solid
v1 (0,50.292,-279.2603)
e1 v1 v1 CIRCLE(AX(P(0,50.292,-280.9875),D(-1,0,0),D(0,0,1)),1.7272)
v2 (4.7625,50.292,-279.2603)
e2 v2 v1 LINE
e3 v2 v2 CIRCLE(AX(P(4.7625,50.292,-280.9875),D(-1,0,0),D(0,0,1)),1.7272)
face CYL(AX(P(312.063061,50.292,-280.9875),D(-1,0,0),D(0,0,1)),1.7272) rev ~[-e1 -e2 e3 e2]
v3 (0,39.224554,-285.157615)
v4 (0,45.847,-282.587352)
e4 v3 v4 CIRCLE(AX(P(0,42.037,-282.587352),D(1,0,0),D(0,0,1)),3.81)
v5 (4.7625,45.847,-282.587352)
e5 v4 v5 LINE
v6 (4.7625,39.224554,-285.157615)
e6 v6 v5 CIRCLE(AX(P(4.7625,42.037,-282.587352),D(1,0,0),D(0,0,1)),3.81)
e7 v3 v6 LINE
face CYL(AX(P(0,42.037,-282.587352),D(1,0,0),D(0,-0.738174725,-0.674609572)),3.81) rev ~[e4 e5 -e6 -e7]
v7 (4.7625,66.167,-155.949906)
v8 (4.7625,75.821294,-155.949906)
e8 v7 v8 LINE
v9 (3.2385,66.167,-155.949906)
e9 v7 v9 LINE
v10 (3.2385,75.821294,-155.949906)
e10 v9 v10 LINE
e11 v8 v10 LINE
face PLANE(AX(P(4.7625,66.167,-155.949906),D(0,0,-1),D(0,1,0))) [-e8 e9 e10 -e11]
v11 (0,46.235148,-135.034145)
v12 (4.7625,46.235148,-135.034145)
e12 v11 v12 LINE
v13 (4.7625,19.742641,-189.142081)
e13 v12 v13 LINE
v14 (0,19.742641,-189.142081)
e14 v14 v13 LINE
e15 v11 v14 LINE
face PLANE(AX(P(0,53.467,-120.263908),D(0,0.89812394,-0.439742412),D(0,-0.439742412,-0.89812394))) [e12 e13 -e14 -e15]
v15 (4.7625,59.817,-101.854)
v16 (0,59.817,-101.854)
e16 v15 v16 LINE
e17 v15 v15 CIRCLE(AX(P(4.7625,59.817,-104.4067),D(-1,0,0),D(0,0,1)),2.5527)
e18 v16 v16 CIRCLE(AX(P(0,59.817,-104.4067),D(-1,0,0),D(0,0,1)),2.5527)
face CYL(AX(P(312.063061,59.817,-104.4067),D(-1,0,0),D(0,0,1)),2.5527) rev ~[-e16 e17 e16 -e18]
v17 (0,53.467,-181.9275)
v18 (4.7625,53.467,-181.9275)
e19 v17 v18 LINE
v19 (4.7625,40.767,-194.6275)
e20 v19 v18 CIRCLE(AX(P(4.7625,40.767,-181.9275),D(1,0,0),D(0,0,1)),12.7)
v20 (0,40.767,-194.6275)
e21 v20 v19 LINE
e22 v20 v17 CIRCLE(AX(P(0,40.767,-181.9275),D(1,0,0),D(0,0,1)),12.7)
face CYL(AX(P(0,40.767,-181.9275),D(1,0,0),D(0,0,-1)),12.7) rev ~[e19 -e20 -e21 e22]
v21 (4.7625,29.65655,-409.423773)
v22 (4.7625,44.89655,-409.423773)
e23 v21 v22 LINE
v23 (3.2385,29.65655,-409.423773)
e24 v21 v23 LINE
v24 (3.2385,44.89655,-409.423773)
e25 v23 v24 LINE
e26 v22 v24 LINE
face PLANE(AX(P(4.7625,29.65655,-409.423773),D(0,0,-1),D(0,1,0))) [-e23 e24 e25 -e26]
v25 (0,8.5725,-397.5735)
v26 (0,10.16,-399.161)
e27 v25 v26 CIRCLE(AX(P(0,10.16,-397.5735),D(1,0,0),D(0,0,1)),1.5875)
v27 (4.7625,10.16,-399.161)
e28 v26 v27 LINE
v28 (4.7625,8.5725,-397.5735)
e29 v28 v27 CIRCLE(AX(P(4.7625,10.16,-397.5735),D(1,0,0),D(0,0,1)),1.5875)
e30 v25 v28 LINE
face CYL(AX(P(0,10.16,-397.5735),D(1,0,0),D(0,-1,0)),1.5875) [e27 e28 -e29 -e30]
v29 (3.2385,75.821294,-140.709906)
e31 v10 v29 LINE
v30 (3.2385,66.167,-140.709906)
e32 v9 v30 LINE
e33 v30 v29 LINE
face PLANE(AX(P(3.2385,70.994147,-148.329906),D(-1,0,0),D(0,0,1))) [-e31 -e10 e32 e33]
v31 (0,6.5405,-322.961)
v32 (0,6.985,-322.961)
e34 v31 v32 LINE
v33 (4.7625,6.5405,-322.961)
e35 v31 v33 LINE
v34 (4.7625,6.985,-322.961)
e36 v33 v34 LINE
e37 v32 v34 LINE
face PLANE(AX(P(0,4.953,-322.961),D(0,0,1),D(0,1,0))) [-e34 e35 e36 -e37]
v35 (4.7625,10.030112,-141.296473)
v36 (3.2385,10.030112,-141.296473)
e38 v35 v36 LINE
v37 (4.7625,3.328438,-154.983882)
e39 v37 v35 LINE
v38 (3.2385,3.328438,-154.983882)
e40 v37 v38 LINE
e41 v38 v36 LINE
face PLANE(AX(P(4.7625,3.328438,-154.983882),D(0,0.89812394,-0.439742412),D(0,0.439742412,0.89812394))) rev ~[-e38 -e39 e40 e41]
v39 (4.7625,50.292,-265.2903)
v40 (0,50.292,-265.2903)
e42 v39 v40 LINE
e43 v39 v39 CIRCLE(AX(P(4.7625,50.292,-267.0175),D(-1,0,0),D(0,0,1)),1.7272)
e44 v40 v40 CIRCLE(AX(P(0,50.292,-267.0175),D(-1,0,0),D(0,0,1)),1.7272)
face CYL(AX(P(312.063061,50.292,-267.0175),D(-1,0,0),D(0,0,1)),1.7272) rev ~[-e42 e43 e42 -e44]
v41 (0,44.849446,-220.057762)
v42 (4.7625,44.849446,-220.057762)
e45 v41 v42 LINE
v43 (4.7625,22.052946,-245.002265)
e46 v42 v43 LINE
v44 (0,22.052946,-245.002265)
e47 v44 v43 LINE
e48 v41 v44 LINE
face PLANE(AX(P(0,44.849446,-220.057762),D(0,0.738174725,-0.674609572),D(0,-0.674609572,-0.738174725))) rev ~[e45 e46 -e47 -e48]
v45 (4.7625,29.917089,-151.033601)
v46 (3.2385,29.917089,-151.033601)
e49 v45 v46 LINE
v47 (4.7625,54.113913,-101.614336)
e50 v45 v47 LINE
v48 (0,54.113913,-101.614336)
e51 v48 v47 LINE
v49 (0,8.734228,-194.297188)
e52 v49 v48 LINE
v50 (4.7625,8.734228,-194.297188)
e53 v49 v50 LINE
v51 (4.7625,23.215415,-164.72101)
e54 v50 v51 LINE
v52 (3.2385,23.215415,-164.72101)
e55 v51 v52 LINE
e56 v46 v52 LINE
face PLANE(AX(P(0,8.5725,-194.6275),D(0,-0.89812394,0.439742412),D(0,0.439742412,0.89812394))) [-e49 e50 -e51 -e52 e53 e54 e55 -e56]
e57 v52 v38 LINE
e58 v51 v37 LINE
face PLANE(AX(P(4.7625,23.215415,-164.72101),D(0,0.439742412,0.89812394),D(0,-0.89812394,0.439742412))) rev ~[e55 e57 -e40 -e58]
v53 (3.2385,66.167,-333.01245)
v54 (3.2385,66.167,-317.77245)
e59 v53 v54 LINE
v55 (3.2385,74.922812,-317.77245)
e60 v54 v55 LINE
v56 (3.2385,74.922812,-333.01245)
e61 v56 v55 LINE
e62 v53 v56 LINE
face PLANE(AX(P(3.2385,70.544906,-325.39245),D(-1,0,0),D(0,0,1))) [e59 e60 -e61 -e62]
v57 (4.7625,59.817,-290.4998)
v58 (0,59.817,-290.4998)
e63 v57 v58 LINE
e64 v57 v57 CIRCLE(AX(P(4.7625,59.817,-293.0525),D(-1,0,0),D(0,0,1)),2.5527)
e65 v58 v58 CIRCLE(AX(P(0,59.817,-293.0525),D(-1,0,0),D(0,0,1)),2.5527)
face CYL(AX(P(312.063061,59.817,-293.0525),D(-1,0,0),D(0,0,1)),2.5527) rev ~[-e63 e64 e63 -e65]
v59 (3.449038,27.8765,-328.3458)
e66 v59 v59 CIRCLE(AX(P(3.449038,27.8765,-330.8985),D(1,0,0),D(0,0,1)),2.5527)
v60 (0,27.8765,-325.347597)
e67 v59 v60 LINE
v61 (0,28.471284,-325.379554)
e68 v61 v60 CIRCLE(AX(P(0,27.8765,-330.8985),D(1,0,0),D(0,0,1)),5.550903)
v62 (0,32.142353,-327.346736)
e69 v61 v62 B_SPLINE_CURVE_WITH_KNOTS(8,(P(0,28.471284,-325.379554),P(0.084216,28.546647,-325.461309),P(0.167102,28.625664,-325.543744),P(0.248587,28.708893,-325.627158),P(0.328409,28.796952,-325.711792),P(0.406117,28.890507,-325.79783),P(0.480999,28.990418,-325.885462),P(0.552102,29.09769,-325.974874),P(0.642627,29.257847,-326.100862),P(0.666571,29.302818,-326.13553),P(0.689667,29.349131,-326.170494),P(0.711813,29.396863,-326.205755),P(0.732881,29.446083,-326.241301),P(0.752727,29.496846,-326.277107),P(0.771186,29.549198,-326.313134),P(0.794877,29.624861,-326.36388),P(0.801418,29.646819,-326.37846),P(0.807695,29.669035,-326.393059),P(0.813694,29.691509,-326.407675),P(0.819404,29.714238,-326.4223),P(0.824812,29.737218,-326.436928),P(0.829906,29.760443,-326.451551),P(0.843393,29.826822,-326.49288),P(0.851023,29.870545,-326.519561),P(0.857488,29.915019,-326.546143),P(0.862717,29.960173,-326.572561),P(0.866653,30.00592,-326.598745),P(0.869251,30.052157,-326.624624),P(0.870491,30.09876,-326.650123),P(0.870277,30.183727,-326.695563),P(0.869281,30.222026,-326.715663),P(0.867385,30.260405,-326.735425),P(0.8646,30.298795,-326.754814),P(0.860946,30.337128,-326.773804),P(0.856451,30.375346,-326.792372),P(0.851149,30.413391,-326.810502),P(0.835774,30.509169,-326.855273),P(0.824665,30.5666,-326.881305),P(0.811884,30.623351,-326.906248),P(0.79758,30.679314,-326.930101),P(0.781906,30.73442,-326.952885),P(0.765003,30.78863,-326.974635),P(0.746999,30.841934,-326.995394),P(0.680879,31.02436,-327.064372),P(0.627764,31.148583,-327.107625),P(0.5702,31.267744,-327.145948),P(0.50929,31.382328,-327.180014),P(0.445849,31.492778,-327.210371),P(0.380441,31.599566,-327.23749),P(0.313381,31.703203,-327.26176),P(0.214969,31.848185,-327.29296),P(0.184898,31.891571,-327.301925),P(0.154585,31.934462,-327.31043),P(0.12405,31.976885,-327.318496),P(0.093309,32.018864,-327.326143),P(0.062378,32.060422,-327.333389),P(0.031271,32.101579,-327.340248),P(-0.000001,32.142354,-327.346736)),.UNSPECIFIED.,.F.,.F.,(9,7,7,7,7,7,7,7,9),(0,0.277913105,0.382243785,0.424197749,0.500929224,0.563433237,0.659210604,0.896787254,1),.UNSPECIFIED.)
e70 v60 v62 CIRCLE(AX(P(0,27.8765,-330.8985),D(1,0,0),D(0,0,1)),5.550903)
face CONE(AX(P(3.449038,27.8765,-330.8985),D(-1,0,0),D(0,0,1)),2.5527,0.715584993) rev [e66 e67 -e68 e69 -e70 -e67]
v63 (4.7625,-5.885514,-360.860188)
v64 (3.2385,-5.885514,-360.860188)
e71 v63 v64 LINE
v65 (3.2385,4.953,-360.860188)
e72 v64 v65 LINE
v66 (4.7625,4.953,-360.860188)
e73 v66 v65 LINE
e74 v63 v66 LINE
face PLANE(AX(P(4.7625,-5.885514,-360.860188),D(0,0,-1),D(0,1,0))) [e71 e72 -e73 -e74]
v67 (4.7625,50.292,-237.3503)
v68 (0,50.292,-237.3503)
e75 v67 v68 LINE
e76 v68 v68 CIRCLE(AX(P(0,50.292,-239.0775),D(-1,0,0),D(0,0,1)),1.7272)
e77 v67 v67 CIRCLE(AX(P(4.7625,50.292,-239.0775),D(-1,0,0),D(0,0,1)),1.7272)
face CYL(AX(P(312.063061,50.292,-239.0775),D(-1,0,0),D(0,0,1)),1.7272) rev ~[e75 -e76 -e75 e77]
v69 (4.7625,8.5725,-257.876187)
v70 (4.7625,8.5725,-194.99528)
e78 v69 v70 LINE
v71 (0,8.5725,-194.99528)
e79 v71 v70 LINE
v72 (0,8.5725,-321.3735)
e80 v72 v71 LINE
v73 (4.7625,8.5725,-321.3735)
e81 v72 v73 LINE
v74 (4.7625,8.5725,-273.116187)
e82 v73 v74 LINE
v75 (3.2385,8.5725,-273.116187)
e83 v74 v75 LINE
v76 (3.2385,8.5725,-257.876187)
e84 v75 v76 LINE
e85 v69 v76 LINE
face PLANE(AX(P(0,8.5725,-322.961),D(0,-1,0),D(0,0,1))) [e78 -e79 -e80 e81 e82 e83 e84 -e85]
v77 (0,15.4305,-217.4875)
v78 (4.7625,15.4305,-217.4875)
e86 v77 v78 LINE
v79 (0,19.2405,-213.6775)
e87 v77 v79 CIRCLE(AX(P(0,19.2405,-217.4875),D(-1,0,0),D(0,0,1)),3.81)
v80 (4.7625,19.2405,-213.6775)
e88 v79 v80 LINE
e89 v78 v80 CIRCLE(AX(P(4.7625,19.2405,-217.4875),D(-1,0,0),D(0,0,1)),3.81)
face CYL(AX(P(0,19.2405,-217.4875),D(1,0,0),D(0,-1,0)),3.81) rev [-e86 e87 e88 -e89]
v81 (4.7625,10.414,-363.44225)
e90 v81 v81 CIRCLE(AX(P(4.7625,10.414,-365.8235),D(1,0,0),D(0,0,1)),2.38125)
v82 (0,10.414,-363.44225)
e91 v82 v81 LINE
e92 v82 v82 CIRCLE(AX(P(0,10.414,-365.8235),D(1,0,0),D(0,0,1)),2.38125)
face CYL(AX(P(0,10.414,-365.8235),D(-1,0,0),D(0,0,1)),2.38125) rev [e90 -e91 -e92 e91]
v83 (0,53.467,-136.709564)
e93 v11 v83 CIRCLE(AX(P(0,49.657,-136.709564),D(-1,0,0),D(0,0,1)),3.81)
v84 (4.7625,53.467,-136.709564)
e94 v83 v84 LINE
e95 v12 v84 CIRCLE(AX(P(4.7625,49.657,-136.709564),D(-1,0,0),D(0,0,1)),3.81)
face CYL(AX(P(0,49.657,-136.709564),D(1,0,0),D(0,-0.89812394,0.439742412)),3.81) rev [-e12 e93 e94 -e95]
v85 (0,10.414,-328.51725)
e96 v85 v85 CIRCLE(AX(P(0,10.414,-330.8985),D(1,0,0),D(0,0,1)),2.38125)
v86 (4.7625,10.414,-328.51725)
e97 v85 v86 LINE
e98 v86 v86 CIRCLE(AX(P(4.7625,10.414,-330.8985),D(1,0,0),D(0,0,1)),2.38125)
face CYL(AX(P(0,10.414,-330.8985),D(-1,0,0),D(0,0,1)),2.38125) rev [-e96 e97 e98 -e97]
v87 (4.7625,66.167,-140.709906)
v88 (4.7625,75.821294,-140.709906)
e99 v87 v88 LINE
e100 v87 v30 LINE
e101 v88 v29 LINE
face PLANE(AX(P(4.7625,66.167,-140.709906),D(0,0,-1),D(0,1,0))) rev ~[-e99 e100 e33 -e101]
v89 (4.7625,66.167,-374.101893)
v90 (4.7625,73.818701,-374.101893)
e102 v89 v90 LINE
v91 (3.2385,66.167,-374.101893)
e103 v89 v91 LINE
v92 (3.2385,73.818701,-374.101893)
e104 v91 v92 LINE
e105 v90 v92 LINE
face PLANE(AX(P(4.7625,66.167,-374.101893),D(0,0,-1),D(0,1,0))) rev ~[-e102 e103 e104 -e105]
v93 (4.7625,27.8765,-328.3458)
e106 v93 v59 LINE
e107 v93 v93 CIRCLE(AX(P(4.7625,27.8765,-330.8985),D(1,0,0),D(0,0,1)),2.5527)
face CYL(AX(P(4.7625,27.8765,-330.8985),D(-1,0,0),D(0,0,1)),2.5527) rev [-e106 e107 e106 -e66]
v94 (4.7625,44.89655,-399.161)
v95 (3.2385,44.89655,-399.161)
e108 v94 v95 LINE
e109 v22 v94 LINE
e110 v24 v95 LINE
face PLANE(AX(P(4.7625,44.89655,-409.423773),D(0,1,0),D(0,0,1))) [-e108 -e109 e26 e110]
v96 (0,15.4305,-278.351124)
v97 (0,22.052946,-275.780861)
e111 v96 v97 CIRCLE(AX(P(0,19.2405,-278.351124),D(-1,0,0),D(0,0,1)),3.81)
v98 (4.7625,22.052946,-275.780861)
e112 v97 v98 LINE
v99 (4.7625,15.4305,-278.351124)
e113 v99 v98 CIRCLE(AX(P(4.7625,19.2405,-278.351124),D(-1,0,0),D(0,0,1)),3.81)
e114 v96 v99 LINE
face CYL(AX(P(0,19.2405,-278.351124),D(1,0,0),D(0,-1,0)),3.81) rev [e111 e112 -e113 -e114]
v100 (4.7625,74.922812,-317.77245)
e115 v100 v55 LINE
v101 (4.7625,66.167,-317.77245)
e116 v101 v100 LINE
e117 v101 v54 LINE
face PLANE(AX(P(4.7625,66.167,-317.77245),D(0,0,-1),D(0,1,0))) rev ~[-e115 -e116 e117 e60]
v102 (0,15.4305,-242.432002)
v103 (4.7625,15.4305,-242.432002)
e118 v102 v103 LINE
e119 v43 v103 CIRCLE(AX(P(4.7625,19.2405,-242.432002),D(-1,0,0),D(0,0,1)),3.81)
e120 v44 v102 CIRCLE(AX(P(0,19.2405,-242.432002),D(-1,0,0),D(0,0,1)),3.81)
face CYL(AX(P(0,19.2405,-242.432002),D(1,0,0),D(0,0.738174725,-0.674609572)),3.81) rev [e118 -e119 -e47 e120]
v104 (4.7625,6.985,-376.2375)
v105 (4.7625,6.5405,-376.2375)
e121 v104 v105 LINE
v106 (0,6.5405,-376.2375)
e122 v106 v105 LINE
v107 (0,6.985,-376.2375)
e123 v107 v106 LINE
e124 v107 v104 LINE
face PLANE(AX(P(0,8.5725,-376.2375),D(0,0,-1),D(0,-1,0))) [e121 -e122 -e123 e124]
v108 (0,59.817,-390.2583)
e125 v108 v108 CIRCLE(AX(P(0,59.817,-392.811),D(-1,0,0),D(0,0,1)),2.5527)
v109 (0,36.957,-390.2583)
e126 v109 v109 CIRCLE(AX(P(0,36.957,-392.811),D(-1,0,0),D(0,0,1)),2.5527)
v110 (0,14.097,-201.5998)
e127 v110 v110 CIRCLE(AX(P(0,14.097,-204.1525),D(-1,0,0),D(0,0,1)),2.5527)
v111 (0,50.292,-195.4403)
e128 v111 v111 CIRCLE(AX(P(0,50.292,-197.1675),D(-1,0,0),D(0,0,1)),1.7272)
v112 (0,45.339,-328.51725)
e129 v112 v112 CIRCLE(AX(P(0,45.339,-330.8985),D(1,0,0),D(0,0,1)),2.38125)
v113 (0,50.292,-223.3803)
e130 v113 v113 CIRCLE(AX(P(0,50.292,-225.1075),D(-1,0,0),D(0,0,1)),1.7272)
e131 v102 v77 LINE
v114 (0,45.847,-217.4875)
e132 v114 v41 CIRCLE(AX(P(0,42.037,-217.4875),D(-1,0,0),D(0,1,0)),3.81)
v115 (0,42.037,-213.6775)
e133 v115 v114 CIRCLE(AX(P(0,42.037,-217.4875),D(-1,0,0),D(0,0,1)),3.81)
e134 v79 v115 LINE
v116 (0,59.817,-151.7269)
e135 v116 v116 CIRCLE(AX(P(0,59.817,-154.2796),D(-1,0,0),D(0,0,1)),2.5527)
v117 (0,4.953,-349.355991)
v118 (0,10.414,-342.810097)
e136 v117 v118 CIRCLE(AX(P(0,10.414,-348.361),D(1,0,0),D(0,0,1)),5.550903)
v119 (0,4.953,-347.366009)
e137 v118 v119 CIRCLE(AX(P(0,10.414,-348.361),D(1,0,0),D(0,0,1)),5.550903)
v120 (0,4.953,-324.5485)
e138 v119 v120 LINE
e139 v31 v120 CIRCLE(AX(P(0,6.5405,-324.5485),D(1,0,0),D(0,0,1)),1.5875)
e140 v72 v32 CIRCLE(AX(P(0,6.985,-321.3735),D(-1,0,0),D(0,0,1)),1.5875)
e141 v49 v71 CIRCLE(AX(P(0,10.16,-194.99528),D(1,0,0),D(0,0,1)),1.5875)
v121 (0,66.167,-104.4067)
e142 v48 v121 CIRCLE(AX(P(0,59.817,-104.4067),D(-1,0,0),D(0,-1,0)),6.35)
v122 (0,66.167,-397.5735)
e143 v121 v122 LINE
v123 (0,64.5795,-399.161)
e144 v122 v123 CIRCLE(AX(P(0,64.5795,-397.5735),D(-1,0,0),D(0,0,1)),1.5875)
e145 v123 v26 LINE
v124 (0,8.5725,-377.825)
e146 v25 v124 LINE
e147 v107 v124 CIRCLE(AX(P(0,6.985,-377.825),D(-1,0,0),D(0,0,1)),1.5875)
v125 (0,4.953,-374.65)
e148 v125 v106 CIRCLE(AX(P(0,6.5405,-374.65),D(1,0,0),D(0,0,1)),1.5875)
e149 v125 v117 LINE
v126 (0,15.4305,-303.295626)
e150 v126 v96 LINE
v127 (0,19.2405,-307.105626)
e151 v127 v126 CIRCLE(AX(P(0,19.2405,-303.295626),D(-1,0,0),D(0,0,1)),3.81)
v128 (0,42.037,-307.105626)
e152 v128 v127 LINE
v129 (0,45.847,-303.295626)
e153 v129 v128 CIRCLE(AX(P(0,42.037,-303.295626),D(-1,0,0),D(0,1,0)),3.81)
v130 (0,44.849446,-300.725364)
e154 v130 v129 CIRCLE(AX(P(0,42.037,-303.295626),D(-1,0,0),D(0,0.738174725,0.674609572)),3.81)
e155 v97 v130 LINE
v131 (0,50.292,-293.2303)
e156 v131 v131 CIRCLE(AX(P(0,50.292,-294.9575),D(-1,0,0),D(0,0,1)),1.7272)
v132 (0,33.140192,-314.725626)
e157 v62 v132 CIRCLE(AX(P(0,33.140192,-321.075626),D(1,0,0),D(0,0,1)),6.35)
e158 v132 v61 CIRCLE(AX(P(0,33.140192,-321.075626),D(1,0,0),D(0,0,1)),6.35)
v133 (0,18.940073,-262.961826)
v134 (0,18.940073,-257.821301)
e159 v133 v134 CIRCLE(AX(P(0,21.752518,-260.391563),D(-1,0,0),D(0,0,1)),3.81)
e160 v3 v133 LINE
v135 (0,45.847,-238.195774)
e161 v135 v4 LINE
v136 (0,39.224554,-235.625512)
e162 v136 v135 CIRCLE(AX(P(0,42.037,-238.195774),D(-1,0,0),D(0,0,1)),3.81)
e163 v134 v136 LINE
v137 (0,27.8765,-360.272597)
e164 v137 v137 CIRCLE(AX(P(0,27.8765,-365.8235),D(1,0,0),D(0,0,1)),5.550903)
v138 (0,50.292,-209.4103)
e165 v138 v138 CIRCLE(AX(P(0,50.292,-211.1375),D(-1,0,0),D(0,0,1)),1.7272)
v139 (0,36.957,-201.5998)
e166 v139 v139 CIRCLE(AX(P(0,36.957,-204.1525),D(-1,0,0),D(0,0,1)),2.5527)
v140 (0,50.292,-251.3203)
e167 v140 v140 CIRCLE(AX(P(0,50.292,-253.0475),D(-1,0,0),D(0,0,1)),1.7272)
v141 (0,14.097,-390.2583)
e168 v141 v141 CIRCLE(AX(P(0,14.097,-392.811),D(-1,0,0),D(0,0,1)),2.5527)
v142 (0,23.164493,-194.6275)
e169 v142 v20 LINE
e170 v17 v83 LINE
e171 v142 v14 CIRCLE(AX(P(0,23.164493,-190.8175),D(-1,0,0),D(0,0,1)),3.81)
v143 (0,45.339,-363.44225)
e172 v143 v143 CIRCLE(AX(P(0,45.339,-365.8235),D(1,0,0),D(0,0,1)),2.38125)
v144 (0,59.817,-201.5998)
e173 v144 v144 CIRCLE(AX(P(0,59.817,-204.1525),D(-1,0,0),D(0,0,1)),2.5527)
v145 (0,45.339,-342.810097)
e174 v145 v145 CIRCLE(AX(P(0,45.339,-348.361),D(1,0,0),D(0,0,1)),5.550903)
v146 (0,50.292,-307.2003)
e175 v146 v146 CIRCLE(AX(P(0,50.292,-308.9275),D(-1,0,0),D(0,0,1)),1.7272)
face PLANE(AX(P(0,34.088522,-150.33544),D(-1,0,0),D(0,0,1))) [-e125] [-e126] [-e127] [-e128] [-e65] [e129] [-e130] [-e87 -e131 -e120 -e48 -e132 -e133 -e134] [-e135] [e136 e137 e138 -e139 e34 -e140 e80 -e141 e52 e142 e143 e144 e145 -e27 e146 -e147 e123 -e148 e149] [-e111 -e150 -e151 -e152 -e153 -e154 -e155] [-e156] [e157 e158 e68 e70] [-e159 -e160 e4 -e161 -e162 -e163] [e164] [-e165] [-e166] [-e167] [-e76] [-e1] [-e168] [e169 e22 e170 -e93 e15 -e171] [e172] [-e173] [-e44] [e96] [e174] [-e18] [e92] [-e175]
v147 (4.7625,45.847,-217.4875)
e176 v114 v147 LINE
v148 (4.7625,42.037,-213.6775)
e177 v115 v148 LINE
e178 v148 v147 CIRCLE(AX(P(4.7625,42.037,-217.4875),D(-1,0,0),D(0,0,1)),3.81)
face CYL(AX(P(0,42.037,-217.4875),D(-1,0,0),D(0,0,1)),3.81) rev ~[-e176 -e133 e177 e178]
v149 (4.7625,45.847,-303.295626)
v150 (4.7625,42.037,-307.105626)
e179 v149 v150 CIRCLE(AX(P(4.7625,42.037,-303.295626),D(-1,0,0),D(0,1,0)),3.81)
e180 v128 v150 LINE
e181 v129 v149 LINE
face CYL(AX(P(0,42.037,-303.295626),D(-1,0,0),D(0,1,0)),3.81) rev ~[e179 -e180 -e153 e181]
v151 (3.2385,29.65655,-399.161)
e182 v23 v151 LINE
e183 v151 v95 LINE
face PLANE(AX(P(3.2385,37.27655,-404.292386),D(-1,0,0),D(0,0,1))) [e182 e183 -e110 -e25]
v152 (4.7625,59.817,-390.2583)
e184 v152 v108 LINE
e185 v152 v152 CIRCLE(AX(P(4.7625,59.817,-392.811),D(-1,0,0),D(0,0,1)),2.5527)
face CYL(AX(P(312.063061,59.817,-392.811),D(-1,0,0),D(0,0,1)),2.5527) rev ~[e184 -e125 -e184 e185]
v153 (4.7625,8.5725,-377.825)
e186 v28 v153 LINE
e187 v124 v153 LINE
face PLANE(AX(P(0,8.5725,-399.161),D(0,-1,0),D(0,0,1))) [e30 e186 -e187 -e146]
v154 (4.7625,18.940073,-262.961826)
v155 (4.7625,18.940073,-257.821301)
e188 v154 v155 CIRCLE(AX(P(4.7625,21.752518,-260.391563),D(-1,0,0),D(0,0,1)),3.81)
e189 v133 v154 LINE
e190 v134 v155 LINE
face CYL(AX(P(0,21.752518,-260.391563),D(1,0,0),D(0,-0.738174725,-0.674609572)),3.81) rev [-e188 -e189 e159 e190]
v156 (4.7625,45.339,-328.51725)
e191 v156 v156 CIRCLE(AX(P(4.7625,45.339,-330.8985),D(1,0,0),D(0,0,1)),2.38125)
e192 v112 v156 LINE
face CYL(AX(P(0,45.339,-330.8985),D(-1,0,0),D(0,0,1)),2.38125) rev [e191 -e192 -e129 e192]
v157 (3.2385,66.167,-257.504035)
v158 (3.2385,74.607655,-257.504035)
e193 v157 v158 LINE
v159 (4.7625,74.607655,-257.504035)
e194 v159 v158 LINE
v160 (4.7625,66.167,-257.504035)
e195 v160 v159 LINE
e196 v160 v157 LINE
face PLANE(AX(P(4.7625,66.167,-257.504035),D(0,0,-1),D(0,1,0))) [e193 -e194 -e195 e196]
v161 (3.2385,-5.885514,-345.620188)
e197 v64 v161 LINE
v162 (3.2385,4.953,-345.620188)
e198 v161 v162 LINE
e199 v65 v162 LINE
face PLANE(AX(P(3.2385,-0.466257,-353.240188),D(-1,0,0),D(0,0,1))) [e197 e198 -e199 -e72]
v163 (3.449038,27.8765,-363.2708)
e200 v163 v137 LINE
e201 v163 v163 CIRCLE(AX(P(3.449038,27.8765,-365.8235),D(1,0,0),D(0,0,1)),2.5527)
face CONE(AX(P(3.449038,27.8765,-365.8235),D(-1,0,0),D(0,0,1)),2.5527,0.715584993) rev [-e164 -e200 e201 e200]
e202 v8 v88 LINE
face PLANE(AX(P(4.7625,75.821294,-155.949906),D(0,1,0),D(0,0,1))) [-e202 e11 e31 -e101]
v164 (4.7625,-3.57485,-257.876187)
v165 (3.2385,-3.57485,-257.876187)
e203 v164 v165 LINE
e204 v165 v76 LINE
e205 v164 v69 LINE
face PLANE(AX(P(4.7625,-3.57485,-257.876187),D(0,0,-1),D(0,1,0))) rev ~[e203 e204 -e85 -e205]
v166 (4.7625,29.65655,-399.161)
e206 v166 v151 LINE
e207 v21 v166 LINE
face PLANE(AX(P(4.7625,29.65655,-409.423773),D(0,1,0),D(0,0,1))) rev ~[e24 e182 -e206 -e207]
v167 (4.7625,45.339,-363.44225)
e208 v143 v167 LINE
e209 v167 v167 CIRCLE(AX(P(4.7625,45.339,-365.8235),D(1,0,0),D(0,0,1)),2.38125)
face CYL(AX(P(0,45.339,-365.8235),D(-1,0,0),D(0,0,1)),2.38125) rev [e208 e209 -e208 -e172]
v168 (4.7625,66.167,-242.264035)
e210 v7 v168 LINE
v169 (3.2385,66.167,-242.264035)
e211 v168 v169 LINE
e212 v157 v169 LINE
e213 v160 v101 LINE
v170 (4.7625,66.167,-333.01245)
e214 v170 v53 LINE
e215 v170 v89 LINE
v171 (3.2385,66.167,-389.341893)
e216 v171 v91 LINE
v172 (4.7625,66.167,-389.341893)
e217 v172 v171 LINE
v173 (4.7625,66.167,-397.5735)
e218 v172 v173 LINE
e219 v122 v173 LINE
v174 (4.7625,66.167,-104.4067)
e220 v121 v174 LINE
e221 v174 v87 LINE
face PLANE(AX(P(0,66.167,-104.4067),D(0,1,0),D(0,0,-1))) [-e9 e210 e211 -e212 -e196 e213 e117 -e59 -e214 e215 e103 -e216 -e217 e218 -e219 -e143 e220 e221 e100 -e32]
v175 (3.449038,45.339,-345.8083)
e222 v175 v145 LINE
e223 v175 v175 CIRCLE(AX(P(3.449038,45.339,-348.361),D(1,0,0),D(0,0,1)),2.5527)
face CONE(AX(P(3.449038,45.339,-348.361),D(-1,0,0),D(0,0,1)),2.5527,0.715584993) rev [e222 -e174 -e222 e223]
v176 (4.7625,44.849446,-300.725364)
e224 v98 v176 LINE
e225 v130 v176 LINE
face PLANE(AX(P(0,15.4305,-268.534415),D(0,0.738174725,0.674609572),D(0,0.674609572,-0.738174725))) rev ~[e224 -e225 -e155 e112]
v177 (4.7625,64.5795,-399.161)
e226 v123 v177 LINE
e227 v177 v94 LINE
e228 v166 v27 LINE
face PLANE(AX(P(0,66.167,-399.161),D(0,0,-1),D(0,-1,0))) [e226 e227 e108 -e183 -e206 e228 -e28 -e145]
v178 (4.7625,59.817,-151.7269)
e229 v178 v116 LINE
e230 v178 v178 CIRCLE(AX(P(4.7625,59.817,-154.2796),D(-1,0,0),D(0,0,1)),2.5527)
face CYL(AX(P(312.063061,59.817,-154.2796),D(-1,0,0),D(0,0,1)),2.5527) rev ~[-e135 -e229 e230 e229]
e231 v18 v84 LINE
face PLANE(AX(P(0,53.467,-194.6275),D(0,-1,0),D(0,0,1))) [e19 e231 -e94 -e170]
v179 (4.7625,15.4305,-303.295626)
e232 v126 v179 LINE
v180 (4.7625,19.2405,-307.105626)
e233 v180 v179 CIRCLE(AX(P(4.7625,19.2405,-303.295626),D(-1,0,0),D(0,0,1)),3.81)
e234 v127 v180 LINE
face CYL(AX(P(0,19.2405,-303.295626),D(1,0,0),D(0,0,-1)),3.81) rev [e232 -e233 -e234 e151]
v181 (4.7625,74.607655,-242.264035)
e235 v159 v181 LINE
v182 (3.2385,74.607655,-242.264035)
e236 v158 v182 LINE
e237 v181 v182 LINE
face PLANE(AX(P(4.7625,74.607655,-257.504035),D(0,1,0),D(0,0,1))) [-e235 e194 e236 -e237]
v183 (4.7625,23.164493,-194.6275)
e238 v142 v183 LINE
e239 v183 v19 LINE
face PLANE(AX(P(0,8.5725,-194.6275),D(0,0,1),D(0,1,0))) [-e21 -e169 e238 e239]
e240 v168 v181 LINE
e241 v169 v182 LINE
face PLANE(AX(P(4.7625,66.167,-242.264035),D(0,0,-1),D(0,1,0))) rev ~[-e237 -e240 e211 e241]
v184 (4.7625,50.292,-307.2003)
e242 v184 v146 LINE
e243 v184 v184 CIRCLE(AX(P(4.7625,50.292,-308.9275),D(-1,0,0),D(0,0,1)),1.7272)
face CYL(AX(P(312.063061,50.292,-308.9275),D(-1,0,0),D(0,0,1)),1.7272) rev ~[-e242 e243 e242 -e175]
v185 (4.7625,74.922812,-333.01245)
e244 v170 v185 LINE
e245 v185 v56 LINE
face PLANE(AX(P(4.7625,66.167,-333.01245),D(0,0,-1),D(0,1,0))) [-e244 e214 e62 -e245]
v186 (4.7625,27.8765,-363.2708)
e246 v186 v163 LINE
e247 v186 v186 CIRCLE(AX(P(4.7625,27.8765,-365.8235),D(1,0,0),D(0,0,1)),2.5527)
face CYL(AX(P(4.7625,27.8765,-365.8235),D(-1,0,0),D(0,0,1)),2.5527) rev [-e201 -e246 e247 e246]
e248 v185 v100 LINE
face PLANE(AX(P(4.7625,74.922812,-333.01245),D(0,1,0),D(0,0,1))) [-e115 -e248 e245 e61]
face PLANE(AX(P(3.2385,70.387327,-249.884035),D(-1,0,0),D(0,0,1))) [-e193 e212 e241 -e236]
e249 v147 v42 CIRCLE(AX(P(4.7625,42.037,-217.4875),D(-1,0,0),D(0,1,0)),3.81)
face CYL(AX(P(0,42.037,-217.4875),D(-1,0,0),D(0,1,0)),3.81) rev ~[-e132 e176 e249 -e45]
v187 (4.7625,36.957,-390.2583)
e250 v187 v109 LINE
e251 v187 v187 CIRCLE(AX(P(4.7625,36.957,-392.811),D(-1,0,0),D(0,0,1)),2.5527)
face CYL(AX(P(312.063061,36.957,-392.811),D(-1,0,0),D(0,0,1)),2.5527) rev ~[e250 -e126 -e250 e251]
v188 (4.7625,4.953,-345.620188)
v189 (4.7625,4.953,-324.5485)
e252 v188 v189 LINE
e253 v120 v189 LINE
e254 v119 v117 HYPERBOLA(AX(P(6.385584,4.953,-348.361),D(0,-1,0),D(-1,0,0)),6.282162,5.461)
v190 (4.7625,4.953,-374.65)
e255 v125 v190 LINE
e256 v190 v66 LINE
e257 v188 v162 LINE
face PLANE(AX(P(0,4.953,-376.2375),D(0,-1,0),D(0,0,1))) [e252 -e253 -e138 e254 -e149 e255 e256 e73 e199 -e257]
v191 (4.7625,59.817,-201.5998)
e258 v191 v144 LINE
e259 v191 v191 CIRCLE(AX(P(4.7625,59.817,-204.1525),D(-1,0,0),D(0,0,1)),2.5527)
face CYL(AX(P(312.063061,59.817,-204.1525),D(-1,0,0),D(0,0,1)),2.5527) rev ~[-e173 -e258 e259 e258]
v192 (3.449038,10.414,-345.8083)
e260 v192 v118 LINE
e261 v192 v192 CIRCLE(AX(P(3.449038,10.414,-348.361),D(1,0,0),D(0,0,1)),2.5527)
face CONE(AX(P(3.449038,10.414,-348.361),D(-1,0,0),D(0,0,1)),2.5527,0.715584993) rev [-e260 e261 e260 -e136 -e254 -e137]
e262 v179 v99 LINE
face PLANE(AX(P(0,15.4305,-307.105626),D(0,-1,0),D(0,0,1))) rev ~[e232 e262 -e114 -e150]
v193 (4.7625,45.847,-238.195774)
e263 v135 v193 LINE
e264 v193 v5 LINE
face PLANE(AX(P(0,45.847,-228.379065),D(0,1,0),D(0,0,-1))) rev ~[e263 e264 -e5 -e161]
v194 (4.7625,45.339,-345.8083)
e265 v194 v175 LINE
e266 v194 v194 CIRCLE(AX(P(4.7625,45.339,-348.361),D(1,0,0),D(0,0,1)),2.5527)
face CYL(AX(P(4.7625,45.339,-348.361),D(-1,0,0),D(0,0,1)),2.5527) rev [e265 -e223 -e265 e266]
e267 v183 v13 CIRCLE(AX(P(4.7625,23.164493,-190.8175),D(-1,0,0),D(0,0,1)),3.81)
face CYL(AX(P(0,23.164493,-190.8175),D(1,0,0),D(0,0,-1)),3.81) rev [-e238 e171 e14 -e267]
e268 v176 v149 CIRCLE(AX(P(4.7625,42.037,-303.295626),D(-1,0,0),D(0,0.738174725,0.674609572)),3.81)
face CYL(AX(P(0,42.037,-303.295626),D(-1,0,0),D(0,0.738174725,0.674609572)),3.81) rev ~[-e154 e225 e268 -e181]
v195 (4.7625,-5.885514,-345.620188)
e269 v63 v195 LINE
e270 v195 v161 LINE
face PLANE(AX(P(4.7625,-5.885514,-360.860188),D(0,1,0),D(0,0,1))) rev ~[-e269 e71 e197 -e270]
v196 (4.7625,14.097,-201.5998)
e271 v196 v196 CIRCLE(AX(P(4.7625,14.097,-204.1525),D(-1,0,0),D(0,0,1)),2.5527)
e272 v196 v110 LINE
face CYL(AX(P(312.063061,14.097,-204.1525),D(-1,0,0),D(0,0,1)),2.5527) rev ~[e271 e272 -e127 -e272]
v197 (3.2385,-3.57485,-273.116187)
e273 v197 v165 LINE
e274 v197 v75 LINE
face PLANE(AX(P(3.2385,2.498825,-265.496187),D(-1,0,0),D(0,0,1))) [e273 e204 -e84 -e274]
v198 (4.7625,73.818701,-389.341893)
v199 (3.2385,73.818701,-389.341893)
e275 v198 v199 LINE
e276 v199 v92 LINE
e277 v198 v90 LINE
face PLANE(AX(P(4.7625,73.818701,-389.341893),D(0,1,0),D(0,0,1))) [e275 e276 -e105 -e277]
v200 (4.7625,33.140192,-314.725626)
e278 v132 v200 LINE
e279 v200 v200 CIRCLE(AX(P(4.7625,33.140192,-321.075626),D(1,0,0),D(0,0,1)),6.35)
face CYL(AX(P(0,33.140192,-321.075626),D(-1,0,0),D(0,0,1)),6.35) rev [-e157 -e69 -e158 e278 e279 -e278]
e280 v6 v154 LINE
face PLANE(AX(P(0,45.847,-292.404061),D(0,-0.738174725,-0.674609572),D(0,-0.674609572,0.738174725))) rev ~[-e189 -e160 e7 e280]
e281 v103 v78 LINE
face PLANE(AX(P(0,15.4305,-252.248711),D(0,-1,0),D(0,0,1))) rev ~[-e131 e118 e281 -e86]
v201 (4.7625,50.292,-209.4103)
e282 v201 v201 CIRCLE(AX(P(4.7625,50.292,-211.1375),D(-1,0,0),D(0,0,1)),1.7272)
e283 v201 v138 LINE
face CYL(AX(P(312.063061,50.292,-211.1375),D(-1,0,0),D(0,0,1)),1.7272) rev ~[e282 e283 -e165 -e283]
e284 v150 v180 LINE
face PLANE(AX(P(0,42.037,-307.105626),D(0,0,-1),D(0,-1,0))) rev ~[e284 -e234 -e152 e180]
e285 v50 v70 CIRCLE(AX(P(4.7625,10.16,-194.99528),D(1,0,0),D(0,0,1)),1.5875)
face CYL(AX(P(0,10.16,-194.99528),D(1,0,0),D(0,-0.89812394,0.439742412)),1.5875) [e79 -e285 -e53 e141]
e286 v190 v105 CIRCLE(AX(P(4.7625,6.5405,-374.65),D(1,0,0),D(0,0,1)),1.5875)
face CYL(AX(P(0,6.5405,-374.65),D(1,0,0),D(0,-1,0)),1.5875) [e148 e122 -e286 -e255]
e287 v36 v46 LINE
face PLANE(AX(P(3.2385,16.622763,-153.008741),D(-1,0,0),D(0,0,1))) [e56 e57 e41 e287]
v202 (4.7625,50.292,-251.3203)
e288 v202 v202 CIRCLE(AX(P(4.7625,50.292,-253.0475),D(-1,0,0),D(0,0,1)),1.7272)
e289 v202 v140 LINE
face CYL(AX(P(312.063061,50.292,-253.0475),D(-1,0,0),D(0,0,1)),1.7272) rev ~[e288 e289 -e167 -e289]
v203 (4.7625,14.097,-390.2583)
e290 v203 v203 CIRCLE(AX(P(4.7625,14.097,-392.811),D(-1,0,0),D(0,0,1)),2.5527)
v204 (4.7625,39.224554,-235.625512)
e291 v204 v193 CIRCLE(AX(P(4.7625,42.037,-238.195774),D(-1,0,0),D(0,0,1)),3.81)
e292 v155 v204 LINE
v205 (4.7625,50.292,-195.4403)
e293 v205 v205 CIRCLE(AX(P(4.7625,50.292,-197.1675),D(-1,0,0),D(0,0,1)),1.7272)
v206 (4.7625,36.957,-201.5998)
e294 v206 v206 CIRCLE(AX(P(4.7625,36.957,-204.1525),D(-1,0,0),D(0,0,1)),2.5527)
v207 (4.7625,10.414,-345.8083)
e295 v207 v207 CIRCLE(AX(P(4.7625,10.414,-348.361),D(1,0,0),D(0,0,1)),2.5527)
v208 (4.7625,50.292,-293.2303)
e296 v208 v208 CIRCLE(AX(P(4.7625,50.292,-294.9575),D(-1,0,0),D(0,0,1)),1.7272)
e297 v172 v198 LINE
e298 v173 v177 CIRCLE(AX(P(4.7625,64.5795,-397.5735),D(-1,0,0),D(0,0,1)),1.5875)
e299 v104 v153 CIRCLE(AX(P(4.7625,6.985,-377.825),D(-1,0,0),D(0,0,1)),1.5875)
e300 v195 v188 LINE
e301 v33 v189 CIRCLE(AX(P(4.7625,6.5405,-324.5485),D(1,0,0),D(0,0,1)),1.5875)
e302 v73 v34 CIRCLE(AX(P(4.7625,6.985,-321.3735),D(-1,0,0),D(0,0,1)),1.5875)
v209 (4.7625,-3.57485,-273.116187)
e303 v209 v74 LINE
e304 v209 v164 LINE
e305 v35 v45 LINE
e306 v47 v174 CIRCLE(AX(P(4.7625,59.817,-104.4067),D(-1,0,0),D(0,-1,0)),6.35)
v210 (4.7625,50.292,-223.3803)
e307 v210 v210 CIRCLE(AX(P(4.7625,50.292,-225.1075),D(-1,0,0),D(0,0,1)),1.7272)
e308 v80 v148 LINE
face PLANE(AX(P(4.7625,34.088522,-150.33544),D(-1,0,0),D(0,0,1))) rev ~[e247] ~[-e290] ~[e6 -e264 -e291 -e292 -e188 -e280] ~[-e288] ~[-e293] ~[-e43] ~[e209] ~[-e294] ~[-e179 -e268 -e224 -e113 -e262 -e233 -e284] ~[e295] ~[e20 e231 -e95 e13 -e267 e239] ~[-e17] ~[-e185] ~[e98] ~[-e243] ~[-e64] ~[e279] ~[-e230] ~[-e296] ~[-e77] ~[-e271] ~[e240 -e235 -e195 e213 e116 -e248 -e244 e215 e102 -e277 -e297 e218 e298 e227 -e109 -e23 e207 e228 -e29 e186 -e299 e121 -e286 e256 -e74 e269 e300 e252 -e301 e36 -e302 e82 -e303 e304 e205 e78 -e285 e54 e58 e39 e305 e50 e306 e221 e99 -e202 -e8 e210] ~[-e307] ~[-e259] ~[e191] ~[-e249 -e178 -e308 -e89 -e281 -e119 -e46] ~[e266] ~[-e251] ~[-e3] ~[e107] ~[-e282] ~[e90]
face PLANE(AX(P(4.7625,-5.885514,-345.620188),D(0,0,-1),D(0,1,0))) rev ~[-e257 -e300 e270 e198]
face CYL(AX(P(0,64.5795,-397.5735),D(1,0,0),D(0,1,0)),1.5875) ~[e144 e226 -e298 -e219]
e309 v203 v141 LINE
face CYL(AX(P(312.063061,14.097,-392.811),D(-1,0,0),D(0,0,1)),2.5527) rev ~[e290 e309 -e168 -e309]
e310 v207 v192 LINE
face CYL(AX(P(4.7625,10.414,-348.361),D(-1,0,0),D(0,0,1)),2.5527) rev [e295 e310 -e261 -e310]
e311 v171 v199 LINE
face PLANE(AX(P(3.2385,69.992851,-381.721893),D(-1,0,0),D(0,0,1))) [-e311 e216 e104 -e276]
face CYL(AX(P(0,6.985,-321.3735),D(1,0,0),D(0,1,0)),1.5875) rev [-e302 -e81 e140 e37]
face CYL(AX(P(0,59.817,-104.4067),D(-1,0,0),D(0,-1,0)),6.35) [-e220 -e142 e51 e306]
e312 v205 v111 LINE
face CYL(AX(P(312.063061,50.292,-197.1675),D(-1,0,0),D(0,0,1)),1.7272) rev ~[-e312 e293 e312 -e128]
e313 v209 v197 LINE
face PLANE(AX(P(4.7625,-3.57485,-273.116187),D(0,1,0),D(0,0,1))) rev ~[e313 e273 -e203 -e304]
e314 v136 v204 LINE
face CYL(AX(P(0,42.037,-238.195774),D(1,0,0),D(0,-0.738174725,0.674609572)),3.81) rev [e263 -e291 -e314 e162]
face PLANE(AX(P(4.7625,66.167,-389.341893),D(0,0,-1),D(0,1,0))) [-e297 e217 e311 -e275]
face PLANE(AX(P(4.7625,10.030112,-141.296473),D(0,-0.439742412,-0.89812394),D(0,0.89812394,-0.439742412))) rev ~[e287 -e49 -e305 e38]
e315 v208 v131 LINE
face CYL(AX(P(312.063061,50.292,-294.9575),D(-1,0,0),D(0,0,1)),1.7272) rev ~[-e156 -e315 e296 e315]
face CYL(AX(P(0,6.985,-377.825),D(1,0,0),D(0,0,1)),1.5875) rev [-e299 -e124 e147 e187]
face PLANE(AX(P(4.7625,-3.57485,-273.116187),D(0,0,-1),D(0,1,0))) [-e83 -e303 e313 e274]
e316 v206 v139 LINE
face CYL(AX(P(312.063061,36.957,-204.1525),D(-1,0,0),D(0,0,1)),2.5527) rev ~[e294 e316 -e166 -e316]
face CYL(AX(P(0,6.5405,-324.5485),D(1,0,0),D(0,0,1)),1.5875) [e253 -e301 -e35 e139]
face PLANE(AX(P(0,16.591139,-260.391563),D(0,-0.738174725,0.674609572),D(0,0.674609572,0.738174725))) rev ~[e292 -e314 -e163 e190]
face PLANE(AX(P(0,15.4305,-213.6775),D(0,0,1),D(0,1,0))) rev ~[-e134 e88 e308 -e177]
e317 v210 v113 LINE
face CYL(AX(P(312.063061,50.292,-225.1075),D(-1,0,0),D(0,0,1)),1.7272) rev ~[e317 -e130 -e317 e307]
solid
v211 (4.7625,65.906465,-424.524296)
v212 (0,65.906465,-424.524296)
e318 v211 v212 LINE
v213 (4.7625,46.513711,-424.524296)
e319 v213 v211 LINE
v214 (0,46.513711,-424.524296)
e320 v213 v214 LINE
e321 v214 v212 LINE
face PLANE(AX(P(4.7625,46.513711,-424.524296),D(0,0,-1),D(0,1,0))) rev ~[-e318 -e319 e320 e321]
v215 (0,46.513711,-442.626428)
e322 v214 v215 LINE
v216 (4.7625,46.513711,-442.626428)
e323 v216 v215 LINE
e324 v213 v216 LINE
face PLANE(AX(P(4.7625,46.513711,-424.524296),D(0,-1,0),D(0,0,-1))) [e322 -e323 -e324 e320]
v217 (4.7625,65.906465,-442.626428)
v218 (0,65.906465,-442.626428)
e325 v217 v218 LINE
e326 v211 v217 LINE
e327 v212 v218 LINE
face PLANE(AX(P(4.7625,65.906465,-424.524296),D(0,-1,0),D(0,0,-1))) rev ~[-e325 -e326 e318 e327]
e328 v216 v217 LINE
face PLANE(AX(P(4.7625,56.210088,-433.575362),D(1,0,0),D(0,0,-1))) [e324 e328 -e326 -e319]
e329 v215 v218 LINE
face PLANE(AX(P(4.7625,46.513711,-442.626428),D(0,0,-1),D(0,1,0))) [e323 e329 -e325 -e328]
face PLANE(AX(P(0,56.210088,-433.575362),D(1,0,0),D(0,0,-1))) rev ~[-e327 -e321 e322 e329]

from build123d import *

# Parameters (mm, degrees)
SKETCH1_R                                   = 2.38125
SKETCH1_R_2                                 = 6.35
BOSS_EXTRUDE1_DEPTH                         = 4.7625
CSK_FOR_10_FLAT_HEAD_SOCKET_CAP_SCR_2_COUNT = 2
CSK_FOR_10_FLAT_HEAD_SOCKET_CAP_SCR_2_PITCH = 34.925
CSK_FOR_10_FLAT_HEAD_SOCKET_CAP_SCR_3_COUNT = 2
CSK_FOR_10_FLAT_HEAD_SOCKET_CAP_SCR_3_PITCH = 24.695704333
CSK_FOR_10_FLAT_HEAD_SOCKET_CAP_SCR_4_COUNT = 2
CSK_FOR_10_FLAT_HEAD_SOCKET_CAP_SCR_4_PITCH = 24.695704333
BOSS_EXTRUDE3_DEPTH                         = 4.7625
FILLET1_R                                   = 1.5875
FILLET2_R                                   = 12.7
F_10_CLEARANCE_HOLE1_D                      = 5.1054
CUT_EXTRUDE1_DEPTH                          = 405.635956407
FILLET3_R                                   = 3.81
F_8_32_TAPPED_HOLE1_D                       = 3.4544
SKETCH15_W                                  = 18.10213161
SKETCH15_H                                  = 19.392754731
BOSS_EXTRUDE4_DEPTH                         = 4.7625
SKETCH16_W                                  = 15.24
SKETCH16_H                                  = 7.651701492
SKETCH16_H_2                                = 8.755812057
SKETCH16_H_3                                = 8.440654528
SKETCH16_H_4                                = 9.654294012
SKETCH16_H_5                                = 12.147349998
SKETCH16_H_6                                = 10.838514334
SKETCH16_W_2                                = 10.262772518
SKETCH16_H_7                                = 15.24
BOSS_EXTRUDE5_DEPTH                         = 1.524


with BuildPart() as part:
    # Sketch1 → Boss-Extrude1 (new body)
    with BuildSketch(Plane(origin=(0, 0, 0), x_dir=(0, 0, -1), z_dir=(1, 0, 0))):
        with BuildLine():
            Line((399.161, 66.167), (399.161, 8.5725))
            Line((399.161, 8.5725), (376.2375, 8.5725))
            Line((376.2375, 8.5725), (376.2375, 4.953))
            Line((376.2375, 4.953), (322.961, 4.953))
            Line((322.961, 4.953), (322.961, 8.5725))
            Line((322.961, 8.5725), (194.6275, 8.5725))
            Line((194.6275, 8.5725), (194.6275, 53.467))
            Line((194.6275, 53.467), (104.4067, 53.467))
            ThreePointArc((104.4067, 53.467), (98.0567, 59.817), (104.4067, 66.167))
            Line((104.4067, 66.167), (399.161, 66.167))
        make_face()
        with Locations(Location((330.8985, 45.339, 0), (0, 0, 180))):
            Circle(SKETCH1_R, mode=Mode.SUBTRACT)
        with Locations(Location((365.8235, 45.339, 0), (0, 0, 180))):
            Circle(SKETCH1_R, mode=Mode.SUBTRACT)
        with Locations(Location((330.8985, 10.414, 0), (0, 0, 180))):
            Circle(SKETCH1_R, mode=Mode.SUBTRACT)
        with Locations(Location((365.8235, 10.414, 0), (0, 0, 180))):
            Circle(SKETCH1_R, mode=Mode.SUBTRACT)
        with Locations(Location((321.075626239, 33.140191614, 0), (0, 0, 180))):
            Circle(SKETCH1_R_2, mode=Mode.SUBTRACT)
    extrude(amount=BOSS_EXTRUDE1_DEPTH)

    # Sketch3 → CSK for #10 Flat Head Socket Cap Screw1 (revolve, cut)
    with BuildSketch(Plane(origin=(0, 10.414, -348.361), x_dir=(0, 0, 1), z_dir=(0, 1, 0))):
        Polygon((0, 0), (0, 4.7625), (2.5527, 4.7625), (2.5527, 3.449038355), (5.5509033, 0), align=None)
    csk_for_10_flat_head_socket_cap_screw1 = revolve(axis=Axis((-6.35, 10.414, -348.361), (1, 0, 0)), mode=Mode.SUBTRACT)

    # CSK for _10 Flat Head Socket Cap Scr 2: CSK for #10 Flat Head Socket Cap Screw1 ×2
    with Locations(*[(0, i * CSK_FOR_10_FLAT_HEAD_SOCKET_CAP_SCR_2_PITCH, 0) for i in range(1, CSK_FOR_10_FLAT_HEAD_SOCKET_CAP_SCR_2_COUNT)]):
        add(csk_for_10_flat_head_socket_cap_screw1, mode=Mode.SUBTRACT)

    # CSK for _10 Flat Head Socket Cap Scr 3: CSK for #10 Flat Head Socket Cap Screw1 ×2
    with Locations(*[Vector(0, 0.7071067811865483, 0.7071067811865468) * (i * CSK_FOR_10_FLAT_HEAD_SOCKET_CAP_SCR_3_PITCH) for i in range(1, CSK_FOR_10_FLAT_HEAD_SOCKET_CAP_SCR_3_COUNT)]):
        add(csk_for_10_flat_head_socket_cap_screw1, mode=Mode.SUBTRACT)

    # CSK for _10 Flat Head Socket Cap Scr 4: CSK for #10 Flat Head Socket Cap Screw1 ×2
    with Locations(*[Vector(0, 0.7071067811865482, -0.7071067811865468) * (i * CSK_FOR_10_FLAT_HEAD_SOCKET_CAP_SCR_4_PITCH) for i in range(1, CSK_FOR_10_FLAT_HEAD_SOCKET_CAP_SCR_4_COUNT)]):
        add(csk_for_10_flat_head_socket_cap_screw1, mode=Mode.SUBTRACT)

    # Sketch13 → Boss-Extrude3 (add)
    with BuildSketch(Plane.ZY):
        Polygon((-194.6275, 8.5725), (-101.614335682, 54.113912983), (-120.263908272, 53.467), (-194.6275, 17.056852397), align=None)
    extrude(amount=-BOSS_EXTRUDE3_DEPTH)

    # Fillet1
    fillet1_edges = [part.edges().sort_by_distance(p)[0] for p in [
        (2.38125, 66.167, -399.161),
        (2.38125, 8.5725, -399.161),
        (2.38125, 8.5725, -376.2375),
        (2.38125, 4.953, -376.2375),
        (2.38125, 4.953, -322.961),
        (2.38125, 8.5725, -322.961),
        (2.38125, 8.5725, -194.6275),
    ]]
    fillet(fillet1_edges, radius=FILLET1_R)

    # Fillet2
    fillet2_edges = [part.edges().sort_by_distance(p)[0] for p in [
        (2.38125, 53.467, -194.6275),
    ]]
    fillet(fillet2_edges, radius=FILLET2_R)

    # #10 Clearance Hole1 (through all)
    with Locations(Plane(origin=(4.7625, 0, 0), x_dir=(0, 0, -1), z_dir=(1, 0, 0))):
        with Locations((204.1525, 59.817), (204.1525, 36.957), (204.1525, 14.097), (154.2796, 59.817), (392.811, 59.817), (392.811, 36.957), (392.811, 14.097), (293.0525, 59.817), (104.4067, 59.817)):
            Hole(F_10_CLEARANCE_HOLE1_D / 2)

    # Sketch14 → Cut-Extrude1 (cut, through all)
    with BuildSketch(Plane.ZY):
        Polygon((-292.404060808, 45.847), (-260.391563119, 16.591138705), (-228.379065431, 45.847), align=None)
        with BuildLine():
            Line((-220.05776247, 44.849445703), (-252.248711211, 15.4305))
            Line((-252.248711211, 15.4305), (-213.6775, 15.4305))
            Line((-213.6775, 15.4305), (-213.6775, 42.037))
            ThreePointArc((-213.6775, 42.037), (-214.793423164, 44.731076836), (-217.4875, 45.847))
            ThreePointArc((-217.4875, 45.847), (-218.86602854, 45.588866983), (-220.05776247, 44.849445703))
        make_face()
        with BuildLine():
            Line((-307.105626239, 42.037), (-307.105626239, 15.4305))
            Line((-307.105626239, 15.4305), (-268.534415028, 15.4305))
            Line((-268.534415028, 15.4305), (-300.725363768, 44.849445703))
            ThreePointArc((-300.725363768, 44.849445703), (-301.917097699, 45.588866983), (-303.295626239, 45.847))
            ThreePointArc((-303.295626239, 45.847), (-305.989703075, 44.731076836), (-307.105626239, 42.037))
        make_face()
    extrude(amount=-CUT_EXTRUDE1_DEPTH, mode=Mode.SUBTRACT)

    # Fillet3
    fillet3_edges = [part.edges().sort_by_distance(p)[0] for p in [
        (2.38125, 15.4305, -268.534415028),
        (2.38125, 15.4305, -307.105626239),
        (2.38125, 15.4305, -213.6775),
        (2.38125, 15.4305, -252.248711211),
        (2.38125, 16.591138705, -260.391563119),
        (2.38125, 45.847, -292.404060808),
        (2.38125, 45.847, -228.379065431),
        (2.38125, 17.056852397, -194.6275),
        (2.38125, 53.467, -120.263908272),
    ]]
    fillet(fillet3_edges, radius=FILLET3_R)

    # #8-32 Tapped Hole1 (through all)
    with Locations(Plane(origin=(4.7625, 0, 0), x_dir=(0, 0, -1), z_dir=(1, 0, 0))):
        with Locations((197.1675, 50.292), (211.1375, 50.292), (225.1075, 50.292), (239.0775, 50.292), (253.0475, 50.292), (267.0175, 50.292), (280.9875, 50.292), (294.9575, 50.292), (308.9275, 50.292)):
            Hole(F_8_32_TAPPED_HOLE1_D / 2)

    # Sketch16 → Boss-Extrude5 (add)
    with BuildSketch(Plane.ZY.offset(-4.7625)):
        with Locations((-381.721893004, 69.992850746)):
            Rectangle(SKETCH16_W, SKETCH16_H)
        with Locations((-325.392449665, 70.544906029)):
            Rectangle(SKETCH16_W, SKETCH16_H_2)
        with Locations((-249.884035056, 70.387327264)):
            Rectangle(SKETCH16_W, SKETCH16_H_3)
        with Locations((-148.3299064, 70.994147006)):
            Rectangle(SKETCH16_W, SKETCH16_H_4)
        Polygon((-151.033600761, 29.917089052), (-164.7210096, 23.21541469), (-154.983882123, 3.328437571), (-141.296473284, 10.030111933), align=None)
        with Locations((-265.496187265, 2.498825001)):
            Rectangle(SKETCH16_W, SKETCH16_H_5)
        with Locations((-353.240188147, -0.466257167)):
            Rectangle(SKETCH16_W, SKETCH16_H_6)
        with Locations((-404.292386259, 37.276549646)):
            Rectangle(SKETCH16_W_2, SKETCH16_H_7)
    extrude(amount=BOSS_EXTRUDE5_DEPTH)


with BuildPart() as body_2:
    # Sketch15 → Boss-Extrude4 (new body)
    with BuildSketch(Plane(origin=(4.7625, 0, 0), x_dir=(0, 0, -1), z_dir=(1, 0, 0))):
        with Locations((433.575362003, 56.210087935)):
            Rectangle(SKETCH15_W, SKETCH15_H)
    extrude(amount=-BOSS_EXTRUDE4_DEPTH)


solid = Compound([part.part, body_2.part])
